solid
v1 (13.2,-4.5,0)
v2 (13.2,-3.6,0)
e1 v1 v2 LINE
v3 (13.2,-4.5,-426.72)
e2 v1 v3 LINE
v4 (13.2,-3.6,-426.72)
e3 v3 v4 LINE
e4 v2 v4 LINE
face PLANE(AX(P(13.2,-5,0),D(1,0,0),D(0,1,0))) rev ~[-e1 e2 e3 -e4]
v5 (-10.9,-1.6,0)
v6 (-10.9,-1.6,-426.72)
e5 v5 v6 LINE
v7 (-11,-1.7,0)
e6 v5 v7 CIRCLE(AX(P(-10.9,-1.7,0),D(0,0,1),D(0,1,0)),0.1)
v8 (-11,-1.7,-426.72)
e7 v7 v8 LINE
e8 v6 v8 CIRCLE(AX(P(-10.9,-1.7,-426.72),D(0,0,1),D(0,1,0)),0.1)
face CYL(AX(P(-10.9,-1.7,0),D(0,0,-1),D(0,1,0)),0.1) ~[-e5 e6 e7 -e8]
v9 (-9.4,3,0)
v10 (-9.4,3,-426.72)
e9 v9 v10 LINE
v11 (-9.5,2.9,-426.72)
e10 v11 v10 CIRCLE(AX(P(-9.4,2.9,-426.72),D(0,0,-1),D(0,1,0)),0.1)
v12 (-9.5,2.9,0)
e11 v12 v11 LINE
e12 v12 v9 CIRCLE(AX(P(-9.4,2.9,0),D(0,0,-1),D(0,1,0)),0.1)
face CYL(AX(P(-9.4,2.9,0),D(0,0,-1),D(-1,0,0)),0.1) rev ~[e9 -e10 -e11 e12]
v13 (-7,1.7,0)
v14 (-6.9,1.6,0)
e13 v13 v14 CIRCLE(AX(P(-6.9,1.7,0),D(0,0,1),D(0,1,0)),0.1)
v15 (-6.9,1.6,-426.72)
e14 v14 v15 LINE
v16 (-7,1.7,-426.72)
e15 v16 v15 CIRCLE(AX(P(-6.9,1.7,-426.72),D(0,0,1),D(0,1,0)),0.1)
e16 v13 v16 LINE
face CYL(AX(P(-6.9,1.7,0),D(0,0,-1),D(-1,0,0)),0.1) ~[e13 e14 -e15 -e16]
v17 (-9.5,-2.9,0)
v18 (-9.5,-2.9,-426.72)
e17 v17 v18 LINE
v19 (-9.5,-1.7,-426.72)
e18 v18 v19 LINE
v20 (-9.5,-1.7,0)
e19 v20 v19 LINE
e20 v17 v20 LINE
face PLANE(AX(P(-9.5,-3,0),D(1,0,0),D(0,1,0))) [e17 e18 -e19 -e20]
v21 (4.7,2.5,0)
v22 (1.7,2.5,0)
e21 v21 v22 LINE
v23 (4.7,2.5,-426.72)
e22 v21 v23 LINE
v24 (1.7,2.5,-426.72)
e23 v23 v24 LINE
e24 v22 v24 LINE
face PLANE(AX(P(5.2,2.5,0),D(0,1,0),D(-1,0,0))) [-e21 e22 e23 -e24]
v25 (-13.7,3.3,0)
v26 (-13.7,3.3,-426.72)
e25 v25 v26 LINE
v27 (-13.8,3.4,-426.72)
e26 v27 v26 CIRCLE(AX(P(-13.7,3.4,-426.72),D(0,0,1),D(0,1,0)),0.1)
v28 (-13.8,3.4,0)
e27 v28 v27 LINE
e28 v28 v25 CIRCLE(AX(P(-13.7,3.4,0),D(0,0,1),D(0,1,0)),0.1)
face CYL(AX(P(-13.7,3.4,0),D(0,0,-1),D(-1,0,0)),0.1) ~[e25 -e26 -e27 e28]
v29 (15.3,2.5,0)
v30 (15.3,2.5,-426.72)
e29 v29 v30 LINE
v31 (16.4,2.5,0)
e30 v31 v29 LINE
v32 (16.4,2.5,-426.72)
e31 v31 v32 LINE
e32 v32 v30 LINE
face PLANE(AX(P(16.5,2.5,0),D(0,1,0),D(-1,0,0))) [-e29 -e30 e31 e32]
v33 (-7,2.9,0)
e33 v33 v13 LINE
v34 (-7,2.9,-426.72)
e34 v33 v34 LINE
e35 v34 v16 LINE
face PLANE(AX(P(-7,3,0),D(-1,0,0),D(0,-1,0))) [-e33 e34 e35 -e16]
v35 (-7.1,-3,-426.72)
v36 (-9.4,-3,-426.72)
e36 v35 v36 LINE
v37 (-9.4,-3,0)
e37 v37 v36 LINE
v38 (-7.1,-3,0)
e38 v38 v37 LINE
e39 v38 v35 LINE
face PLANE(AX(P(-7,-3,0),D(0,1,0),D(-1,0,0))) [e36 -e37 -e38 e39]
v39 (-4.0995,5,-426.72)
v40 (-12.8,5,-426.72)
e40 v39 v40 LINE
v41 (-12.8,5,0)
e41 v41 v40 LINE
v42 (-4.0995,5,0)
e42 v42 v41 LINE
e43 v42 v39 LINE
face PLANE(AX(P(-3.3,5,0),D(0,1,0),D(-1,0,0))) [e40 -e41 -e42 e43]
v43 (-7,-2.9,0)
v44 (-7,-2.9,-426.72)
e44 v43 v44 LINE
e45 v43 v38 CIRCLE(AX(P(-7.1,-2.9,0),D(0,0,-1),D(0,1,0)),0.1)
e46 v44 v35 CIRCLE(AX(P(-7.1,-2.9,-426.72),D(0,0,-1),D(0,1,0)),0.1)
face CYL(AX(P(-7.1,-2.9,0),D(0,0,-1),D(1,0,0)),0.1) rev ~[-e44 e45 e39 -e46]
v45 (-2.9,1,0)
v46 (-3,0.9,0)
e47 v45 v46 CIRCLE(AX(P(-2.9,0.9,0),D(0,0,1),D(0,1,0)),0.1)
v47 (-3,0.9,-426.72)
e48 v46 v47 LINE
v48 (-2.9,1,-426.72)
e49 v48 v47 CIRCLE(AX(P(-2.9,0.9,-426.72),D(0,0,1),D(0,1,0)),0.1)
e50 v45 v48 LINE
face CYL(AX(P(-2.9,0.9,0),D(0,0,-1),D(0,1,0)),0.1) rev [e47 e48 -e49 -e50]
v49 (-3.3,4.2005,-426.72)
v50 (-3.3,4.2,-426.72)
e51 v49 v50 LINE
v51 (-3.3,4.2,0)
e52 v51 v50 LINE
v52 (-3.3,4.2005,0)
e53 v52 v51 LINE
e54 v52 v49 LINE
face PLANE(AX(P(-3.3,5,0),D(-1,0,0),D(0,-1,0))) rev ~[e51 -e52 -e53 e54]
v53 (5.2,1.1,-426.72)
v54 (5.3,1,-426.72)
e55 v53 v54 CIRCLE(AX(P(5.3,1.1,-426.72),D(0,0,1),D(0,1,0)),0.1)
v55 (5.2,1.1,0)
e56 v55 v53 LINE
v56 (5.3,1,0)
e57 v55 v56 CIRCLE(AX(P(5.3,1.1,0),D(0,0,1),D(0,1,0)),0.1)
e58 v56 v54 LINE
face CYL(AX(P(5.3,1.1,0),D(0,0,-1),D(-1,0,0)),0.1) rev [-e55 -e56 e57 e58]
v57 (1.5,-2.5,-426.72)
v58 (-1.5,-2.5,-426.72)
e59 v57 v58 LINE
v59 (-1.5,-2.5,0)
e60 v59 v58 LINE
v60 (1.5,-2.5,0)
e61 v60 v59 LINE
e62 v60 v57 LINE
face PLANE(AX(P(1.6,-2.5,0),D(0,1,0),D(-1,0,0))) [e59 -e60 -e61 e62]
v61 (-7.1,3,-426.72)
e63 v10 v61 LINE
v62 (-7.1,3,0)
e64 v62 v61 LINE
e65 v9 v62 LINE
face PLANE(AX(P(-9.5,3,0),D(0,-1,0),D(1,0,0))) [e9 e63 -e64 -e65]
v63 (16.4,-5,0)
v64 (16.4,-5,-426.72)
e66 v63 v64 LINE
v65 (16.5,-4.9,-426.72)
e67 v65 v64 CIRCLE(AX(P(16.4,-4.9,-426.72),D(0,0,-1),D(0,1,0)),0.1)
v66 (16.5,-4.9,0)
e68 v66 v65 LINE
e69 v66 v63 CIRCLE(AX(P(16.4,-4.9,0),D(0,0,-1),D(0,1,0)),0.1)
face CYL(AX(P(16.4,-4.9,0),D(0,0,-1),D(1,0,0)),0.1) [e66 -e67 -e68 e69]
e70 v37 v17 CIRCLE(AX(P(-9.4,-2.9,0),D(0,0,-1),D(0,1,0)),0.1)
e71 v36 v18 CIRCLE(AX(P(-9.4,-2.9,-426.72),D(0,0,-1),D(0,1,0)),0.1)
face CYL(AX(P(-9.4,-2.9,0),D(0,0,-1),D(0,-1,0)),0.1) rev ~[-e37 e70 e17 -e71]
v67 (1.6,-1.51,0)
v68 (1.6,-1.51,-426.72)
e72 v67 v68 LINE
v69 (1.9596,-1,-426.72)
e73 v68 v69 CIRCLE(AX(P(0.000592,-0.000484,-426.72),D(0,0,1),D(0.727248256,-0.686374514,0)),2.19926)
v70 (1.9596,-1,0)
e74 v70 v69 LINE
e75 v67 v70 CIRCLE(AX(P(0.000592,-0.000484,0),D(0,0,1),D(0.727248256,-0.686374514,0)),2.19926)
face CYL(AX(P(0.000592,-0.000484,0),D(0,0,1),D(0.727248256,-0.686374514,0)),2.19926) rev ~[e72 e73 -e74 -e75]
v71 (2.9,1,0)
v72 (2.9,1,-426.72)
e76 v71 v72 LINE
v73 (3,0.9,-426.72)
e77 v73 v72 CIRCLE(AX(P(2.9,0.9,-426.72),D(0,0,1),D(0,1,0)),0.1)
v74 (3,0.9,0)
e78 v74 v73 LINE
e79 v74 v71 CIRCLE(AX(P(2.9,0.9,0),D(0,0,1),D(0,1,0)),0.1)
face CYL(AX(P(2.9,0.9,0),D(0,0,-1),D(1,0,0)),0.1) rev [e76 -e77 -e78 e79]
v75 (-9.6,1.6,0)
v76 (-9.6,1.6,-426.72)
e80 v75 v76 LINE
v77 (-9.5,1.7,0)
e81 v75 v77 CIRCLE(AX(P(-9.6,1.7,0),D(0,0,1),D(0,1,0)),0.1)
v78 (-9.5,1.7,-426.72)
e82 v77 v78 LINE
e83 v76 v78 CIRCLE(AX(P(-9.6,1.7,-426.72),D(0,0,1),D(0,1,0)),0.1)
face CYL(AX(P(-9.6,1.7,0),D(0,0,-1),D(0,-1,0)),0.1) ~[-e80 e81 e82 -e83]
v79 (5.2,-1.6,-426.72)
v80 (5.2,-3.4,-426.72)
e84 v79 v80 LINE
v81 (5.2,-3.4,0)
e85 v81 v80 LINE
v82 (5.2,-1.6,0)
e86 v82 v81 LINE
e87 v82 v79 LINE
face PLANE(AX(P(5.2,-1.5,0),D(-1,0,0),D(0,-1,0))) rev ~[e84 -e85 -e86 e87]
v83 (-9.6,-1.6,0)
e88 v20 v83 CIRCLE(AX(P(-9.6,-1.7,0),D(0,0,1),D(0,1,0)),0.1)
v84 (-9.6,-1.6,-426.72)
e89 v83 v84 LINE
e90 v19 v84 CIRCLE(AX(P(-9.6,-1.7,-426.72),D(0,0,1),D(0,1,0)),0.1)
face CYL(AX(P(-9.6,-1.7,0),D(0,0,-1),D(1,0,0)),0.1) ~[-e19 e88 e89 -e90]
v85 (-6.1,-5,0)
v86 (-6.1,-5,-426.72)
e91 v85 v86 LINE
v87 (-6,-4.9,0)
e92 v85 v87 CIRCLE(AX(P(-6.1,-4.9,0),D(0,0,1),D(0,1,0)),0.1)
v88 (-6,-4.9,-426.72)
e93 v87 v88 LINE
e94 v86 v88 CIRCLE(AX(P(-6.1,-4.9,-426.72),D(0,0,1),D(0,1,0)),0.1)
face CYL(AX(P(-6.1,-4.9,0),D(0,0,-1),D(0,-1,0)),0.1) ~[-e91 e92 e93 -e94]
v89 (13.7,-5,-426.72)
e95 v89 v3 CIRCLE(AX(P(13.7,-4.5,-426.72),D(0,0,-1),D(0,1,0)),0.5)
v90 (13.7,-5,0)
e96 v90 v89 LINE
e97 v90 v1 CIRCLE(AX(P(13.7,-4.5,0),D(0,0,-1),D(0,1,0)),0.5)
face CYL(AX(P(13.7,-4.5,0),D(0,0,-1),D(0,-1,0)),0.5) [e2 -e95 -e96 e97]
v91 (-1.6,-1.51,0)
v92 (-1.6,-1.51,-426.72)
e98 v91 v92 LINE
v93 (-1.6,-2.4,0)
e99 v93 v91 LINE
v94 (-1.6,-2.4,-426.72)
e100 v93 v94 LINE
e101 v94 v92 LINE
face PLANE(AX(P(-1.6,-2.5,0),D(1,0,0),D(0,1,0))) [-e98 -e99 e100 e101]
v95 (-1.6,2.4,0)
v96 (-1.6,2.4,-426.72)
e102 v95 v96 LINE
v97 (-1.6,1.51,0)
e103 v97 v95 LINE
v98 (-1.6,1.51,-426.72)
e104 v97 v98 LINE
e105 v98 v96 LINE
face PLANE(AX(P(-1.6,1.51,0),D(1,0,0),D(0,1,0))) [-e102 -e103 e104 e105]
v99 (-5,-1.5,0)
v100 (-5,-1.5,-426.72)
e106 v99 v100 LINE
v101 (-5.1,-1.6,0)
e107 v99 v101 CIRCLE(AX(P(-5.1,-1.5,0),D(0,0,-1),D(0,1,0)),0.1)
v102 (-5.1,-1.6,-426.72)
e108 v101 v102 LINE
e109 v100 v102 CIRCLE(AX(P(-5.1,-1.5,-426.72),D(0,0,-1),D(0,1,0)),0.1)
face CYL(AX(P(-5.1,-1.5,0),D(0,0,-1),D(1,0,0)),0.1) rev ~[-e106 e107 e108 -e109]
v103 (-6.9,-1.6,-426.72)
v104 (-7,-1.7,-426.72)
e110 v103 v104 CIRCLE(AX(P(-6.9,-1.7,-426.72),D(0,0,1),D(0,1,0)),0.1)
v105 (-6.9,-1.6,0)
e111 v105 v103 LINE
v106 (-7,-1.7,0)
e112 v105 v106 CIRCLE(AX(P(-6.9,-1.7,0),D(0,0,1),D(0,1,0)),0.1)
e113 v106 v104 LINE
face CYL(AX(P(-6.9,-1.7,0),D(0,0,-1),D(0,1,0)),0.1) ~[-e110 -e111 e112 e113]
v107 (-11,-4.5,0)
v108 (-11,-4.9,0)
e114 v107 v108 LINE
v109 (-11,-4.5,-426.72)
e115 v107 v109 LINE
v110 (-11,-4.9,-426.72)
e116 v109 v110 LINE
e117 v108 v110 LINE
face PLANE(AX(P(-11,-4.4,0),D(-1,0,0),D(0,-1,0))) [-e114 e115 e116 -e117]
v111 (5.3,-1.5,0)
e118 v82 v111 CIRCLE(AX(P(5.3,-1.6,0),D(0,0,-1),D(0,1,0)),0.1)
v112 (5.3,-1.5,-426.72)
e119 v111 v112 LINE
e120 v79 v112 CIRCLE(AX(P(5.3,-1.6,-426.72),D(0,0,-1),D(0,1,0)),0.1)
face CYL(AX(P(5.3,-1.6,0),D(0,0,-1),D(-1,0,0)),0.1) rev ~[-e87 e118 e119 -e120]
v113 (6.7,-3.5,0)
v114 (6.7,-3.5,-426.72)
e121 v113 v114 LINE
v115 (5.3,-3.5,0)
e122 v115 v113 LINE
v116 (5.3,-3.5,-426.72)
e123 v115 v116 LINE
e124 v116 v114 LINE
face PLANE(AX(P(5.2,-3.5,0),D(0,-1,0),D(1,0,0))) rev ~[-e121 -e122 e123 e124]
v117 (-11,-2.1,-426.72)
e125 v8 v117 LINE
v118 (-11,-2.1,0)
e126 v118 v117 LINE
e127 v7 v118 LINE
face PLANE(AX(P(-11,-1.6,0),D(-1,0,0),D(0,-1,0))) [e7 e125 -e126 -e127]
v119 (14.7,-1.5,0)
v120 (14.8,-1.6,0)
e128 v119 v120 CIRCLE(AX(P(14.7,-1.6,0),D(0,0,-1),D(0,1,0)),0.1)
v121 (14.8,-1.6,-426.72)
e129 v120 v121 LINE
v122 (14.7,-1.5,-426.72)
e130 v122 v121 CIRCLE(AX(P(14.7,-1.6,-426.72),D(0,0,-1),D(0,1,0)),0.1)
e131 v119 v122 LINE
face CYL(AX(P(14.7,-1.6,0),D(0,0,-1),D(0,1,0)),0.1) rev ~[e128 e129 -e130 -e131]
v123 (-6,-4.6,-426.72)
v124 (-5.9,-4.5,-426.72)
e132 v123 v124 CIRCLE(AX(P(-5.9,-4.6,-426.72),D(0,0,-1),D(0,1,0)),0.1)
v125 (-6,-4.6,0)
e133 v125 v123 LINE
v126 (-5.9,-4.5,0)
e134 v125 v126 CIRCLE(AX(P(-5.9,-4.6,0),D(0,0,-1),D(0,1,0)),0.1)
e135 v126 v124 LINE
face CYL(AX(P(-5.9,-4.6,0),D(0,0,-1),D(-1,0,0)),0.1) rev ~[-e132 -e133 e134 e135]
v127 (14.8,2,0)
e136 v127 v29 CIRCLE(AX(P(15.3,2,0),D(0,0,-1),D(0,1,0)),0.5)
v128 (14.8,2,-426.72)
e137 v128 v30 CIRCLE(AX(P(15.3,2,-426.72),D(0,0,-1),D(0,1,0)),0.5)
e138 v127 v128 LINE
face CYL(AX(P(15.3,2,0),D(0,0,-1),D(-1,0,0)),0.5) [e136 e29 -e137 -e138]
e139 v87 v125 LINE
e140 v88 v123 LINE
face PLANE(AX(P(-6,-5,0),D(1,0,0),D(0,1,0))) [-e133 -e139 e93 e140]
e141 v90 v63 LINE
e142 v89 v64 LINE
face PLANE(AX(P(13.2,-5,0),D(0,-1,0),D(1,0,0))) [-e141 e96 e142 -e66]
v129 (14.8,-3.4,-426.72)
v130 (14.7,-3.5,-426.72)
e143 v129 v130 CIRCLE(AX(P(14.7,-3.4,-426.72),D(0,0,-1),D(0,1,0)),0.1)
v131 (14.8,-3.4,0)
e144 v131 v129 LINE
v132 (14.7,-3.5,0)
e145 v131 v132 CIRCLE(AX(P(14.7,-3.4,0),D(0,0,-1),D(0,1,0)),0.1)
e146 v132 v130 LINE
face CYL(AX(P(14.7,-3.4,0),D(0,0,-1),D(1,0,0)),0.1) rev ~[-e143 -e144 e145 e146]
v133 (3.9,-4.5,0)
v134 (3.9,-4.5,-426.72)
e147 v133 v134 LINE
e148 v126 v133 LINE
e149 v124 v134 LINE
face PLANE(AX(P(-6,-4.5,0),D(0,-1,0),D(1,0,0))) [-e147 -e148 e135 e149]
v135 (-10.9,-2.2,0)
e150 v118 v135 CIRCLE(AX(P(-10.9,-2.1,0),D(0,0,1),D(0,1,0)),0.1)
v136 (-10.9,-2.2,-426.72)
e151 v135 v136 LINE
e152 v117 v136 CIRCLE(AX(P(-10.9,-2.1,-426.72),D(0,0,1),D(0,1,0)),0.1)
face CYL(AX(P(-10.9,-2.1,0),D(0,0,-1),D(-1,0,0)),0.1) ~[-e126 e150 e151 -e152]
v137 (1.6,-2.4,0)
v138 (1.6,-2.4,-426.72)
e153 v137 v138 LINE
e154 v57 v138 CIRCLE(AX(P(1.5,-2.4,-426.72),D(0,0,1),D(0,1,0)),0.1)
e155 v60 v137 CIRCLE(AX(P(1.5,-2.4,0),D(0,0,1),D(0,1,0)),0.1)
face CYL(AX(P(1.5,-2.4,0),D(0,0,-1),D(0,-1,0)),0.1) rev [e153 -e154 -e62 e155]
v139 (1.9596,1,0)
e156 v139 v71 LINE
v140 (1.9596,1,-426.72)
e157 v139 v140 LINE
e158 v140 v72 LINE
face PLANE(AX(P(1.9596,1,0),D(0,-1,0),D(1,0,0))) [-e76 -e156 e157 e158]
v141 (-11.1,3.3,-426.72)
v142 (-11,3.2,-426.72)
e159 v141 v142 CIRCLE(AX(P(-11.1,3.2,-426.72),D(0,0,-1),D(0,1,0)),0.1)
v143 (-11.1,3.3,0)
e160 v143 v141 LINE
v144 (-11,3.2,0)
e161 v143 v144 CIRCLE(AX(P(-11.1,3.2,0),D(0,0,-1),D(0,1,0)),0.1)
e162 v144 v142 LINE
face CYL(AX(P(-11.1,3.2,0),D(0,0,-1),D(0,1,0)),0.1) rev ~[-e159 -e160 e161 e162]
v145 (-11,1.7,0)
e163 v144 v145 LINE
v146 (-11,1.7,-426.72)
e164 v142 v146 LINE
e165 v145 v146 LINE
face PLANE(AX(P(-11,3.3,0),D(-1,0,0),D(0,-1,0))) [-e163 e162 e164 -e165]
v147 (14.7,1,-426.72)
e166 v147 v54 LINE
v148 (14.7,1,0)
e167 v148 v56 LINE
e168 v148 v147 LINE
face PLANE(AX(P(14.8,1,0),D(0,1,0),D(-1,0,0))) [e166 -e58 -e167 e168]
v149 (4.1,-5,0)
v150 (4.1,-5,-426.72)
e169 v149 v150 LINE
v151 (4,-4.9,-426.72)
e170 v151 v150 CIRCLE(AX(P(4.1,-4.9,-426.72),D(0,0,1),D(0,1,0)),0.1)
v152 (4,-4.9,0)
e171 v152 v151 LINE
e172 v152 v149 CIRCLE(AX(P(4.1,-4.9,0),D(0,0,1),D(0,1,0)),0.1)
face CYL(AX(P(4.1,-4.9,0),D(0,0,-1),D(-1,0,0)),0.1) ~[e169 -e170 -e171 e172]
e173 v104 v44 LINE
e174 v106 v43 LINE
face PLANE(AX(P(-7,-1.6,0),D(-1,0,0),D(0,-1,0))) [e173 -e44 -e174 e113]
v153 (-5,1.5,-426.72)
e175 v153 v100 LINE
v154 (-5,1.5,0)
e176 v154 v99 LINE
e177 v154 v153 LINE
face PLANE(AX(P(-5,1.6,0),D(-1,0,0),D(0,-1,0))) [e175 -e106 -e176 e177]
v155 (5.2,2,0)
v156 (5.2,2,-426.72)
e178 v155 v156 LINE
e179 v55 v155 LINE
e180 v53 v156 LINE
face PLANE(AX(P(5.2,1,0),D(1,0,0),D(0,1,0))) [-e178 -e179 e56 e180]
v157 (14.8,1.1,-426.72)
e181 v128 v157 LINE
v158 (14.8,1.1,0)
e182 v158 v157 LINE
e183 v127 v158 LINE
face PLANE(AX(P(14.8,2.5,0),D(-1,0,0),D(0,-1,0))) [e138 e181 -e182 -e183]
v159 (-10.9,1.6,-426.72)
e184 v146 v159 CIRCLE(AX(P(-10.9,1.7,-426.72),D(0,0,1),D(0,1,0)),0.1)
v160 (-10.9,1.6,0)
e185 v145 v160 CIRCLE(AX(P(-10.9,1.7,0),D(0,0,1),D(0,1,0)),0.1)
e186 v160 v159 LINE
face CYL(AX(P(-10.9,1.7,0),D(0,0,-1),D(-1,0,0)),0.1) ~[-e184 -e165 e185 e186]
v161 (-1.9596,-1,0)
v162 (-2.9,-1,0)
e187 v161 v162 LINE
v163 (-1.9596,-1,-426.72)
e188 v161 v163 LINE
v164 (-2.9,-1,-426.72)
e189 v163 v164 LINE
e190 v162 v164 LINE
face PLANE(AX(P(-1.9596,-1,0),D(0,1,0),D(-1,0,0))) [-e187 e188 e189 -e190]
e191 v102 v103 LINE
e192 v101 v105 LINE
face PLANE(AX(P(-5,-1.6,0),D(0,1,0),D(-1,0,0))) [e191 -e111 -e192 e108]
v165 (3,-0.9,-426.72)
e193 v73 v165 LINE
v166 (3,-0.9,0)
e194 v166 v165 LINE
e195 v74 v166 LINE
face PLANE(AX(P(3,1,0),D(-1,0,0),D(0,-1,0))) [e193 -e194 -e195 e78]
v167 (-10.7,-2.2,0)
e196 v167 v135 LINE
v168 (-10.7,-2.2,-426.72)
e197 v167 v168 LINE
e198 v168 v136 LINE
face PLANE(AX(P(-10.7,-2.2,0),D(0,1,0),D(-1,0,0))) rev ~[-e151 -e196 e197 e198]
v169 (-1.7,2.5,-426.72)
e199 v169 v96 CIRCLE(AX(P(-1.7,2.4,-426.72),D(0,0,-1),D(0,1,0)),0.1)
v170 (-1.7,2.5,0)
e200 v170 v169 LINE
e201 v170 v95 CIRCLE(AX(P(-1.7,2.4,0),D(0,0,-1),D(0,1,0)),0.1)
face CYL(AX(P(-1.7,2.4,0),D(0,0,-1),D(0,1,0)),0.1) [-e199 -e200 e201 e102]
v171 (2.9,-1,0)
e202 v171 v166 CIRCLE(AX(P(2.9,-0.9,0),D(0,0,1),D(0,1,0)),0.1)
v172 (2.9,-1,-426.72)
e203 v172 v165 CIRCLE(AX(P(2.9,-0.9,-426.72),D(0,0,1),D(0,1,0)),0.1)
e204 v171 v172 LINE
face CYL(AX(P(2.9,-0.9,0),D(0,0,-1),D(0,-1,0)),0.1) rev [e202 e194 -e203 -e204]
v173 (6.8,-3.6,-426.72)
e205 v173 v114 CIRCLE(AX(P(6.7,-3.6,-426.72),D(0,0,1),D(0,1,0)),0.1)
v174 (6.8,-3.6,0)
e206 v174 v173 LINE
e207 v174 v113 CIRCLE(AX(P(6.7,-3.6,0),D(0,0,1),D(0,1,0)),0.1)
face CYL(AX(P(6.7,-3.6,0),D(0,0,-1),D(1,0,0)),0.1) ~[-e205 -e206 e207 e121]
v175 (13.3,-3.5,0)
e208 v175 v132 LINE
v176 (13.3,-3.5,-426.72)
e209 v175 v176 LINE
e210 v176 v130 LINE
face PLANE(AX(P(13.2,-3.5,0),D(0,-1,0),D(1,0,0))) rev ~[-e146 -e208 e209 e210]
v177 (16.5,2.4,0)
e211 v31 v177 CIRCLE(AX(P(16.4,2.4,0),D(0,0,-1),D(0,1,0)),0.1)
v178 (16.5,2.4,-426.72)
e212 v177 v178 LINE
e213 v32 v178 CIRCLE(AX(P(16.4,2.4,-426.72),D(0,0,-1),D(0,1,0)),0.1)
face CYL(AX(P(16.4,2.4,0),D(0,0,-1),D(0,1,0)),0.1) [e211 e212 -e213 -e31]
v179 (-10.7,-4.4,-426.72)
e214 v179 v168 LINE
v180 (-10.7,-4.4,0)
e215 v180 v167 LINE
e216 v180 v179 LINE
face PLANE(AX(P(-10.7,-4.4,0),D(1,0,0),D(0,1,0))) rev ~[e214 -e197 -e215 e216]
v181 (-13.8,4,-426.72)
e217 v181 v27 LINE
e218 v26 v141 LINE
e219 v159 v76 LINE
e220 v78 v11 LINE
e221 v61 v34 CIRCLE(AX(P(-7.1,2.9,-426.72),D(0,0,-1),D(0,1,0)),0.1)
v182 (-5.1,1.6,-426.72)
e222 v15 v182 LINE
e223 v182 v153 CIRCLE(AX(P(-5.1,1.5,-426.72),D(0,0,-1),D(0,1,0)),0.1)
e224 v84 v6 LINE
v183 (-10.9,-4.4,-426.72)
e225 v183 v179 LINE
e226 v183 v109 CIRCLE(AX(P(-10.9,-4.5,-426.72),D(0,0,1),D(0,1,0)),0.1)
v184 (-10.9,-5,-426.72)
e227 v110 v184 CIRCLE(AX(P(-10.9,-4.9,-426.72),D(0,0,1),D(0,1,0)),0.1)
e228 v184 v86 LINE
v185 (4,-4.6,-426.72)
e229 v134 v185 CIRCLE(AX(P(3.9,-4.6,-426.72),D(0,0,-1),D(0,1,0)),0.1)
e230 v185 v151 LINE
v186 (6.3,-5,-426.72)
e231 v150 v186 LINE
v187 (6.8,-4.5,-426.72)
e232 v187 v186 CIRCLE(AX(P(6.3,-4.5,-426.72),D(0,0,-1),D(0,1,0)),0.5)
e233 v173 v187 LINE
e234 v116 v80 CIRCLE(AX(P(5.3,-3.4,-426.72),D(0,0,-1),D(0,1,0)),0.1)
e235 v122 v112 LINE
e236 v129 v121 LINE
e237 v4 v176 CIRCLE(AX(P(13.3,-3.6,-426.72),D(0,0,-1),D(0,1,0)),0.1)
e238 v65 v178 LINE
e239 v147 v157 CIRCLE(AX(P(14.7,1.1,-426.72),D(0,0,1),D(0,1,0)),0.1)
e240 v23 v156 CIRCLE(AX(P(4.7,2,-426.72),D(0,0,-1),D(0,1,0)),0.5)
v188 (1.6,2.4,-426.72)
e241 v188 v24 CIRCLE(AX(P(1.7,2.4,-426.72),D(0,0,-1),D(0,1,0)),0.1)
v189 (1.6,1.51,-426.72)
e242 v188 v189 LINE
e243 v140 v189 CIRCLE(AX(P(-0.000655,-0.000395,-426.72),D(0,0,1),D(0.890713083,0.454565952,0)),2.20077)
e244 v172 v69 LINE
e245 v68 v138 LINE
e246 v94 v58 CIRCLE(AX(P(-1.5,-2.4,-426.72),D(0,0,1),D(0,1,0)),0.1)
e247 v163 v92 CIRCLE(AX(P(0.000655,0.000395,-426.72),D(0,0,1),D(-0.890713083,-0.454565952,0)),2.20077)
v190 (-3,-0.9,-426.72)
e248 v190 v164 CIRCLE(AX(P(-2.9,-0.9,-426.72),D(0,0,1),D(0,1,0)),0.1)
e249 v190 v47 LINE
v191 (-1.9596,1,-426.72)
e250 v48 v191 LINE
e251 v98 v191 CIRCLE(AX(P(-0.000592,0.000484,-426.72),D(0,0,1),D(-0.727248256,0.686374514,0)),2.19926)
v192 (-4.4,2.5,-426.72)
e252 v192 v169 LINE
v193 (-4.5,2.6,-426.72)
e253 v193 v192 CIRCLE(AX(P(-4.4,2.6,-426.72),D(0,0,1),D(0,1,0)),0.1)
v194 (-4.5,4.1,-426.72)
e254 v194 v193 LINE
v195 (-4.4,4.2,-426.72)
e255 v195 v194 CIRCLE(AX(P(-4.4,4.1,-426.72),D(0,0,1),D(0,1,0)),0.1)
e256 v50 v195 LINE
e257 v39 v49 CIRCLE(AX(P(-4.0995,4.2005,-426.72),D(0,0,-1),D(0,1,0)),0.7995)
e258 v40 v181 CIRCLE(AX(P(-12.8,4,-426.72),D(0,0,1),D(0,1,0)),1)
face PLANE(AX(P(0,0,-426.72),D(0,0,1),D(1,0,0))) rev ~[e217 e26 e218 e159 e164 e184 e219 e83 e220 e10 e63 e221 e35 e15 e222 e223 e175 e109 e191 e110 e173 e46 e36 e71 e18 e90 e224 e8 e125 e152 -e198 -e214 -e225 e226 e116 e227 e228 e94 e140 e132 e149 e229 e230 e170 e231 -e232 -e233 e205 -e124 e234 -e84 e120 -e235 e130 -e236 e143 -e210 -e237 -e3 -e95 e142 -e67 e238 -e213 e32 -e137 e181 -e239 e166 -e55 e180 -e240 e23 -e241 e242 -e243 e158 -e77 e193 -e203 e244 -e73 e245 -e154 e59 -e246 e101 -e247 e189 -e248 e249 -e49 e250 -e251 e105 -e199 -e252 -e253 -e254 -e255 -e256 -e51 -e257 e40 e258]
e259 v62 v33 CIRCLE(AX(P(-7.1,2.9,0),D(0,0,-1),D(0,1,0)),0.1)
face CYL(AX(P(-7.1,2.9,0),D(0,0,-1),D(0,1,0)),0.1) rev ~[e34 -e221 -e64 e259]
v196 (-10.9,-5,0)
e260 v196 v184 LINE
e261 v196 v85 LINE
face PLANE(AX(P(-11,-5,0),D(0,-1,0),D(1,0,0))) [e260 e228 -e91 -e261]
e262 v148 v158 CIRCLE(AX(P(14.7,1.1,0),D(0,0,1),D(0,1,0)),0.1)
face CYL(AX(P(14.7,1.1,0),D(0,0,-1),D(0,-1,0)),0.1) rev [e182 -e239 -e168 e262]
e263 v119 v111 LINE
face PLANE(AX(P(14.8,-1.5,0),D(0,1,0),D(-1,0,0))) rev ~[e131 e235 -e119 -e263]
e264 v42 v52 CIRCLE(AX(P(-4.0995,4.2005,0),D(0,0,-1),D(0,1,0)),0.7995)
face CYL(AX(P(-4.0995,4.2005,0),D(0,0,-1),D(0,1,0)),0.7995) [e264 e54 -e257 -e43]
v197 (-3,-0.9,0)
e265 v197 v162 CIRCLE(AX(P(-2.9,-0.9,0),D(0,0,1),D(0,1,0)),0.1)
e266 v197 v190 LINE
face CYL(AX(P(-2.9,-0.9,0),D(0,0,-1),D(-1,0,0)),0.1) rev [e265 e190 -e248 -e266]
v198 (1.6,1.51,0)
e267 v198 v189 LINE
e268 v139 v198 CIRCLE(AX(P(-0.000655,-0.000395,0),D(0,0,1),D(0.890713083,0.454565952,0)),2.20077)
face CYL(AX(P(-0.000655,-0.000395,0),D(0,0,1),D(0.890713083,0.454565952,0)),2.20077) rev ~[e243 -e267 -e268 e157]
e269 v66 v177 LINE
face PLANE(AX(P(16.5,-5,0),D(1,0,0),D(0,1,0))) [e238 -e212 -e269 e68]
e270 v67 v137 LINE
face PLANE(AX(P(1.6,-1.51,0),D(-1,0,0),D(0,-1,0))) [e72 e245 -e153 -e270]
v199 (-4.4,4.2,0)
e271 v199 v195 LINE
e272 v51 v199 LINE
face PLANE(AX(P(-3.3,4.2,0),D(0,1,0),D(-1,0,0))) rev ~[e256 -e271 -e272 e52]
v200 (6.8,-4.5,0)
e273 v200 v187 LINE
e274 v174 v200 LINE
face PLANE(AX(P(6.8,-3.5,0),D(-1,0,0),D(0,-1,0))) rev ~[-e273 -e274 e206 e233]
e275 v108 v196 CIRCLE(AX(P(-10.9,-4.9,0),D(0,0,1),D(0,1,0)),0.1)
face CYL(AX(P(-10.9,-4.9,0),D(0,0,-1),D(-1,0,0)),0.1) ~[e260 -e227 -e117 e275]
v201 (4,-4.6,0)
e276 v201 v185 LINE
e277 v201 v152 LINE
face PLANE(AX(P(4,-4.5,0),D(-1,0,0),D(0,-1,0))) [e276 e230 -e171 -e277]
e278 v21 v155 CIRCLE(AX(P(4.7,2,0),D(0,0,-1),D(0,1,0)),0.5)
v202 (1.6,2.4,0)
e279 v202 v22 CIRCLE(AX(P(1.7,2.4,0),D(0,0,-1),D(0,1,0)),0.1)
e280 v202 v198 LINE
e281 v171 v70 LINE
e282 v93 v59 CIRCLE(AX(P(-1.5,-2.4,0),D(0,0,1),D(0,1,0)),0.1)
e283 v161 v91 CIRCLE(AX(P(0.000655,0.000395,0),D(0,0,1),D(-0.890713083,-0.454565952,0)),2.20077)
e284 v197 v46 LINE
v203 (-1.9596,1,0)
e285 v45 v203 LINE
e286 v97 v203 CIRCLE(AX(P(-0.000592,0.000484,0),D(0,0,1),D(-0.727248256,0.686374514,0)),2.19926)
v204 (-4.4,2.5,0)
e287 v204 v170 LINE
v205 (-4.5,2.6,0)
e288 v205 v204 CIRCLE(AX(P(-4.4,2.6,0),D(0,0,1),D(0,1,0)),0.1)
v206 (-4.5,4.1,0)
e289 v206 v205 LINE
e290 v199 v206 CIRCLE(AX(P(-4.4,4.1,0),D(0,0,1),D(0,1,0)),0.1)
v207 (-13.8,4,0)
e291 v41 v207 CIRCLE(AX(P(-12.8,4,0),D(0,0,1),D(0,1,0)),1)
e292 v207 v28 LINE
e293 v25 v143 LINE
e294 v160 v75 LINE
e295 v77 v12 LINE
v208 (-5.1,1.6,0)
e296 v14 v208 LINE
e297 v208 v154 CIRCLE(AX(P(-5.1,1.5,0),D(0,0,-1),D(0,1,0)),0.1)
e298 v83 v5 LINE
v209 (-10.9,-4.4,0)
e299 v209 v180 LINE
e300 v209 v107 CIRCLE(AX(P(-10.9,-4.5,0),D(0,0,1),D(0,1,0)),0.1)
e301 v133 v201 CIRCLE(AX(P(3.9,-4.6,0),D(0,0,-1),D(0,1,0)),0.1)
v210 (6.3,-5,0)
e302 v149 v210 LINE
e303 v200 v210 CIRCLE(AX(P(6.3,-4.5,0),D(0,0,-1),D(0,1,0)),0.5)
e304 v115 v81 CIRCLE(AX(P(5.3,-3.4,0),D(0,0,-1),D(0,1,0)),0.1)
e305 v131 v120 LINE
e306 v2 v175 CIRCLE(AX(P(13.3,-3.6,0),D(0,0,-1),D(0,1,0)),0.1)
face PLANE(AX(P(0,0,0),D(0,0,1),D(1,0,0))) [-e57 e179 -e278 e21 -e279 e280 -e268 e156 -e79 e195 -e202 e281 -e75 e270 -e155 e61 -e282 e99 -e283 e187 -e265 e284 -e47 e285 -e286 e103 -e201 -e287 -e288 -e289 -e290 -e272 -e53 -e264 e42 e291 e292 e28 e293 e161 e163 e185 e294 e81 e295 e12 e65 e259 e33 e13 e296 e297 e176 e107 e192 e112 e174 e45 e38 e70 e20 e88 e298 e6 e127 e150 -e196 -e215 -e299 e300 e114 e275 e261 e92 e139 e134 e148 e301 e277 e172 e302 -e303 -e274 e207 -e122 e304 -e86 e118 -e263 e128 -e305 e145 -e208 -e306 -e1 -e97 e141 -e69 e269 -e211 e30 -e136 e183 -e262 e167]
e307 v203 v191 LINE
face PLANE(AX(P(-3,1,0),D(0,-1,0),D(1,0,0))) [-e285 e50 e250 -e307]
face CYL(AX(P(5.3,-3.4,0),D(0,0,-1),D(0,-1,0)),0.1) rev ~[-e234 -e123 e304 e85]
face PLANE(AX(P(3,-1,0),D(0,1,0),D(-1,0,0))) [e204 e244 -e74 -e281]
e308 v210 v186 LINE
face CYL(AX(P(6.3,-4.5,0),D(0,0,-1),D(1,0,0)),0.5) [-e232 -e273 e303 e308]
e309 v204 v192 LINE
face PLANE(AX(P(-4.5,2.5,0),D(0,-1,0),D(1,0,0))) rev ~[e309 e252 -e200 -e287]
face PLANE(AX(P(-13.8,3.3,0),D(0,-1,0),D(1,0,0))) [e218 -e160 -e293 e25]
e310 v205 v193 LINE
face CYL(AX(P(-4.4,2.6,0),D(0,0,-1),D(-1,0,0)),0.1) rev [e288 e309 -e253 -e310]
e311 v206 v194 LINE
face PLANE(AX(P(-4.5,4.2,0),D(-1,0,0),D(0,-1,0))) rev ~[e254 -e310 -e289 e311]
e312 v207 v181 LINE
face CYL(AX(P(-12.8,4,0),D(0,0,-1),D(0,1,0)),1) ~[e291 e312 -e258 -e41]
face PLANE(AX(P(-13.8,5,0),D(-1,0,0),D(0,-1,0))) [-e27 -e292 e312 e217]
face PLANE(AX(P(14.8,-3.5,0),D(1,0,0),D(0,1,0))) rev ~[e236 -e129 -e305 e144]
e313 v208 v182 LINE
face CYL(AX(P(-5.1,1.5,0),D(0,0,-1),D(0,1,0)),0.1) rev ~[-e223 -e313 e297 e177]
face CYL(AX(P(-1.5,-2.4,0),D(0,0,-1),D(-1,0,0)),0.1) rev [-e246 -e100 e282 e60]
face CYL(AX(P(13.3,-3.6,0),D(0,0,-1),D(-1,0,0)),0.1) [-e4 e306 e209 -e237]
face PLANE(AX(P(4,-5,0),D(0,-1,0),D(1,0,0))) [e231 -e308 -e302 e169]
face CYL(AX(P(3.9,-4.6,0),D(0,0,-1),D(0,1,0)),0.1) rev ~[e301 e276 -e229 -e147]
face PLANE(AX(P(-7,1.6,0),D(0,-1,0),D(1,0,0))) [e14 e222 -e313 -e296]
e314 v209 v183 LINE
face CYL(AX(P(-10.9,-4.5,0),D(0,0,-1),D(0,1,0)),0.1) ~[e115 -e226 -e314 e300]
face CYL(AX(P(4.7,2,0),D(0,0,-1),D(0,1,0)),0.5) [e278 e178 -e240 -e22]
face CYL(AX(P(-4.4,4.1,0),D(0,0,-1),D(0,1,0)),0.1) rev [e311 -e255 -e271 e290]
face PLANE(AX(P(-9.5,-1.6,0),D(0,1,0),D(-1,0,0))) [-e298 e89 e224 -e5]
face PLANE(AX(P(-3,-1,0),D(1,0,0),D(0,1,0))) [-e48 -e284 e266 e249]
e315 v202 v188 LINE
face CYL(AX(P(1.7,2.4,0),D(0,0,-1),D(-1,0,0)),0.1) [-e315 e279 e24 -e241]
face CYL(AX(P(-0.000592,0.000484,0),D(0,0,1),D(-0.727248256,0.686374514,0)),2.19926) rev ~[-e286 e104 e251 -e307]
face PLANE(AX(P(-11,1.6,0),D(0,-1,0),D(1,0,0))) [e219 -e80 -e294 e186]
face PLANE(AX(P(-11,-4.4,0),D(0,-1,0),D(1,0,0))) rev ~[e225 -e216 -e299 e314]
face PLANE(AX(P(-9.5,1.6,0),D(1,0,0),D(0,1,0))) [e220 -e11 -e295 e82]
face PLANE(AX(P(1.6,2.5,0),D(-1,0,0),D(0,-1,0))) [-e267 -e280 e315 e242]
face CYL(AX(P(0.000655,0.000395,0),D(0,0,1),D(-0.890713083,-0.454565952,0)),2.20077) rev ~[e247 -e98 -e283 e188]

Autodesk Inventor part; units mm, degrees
ref_plane "YZ Plane" through (0, 0, 0) normal (1, 0, 0) x (0, 1, 0)
ref_plane "XZ Plane" through (0, 0, 0) normal (0, 1, 0) x (-1, 0, 0)
ref_plane "XY Plane" through (0, 0, 0) normal (0, 0, 1) x (1, 0, 0)
sketch "Rail_Sketch" plane through (0, 0, 0) normal (0, 0, 1) x (1, 0, 0)
  arc A0 (-1.9596, 1) -> (-1.9596, -1) centre (0, 0) ccw construction
  line L0 (-13.8, -5) -> (-11, -5) construction
  line L1 (16.5, -5) -> (16.5, 2.5)
  line L2 (16.5, 5) -> (-3.3, 5) construction
  line L3 (-13.8, 5) -> (-13.8, 3.3)
  line L4 (-13.8, 3.3) -> (-11, 3.3)
  line L5 (-11, 3.3) -> (-11, 1.6)
  line L6 (-11, 1.6) -> (-9.5, 1.6)
  line L7 (-5, 1.6) -> (-5, -1.6)
  line L8 (-5, -1.6) -> (-7, -1.6)
  line L9 (-9.5, 3) -> (-7, 3)
  line L10 (-7, 3) -> (-7, 1.6)
  line L11 (-7, -3) -> (-9.5, -3)
  line L12 (-9.5, -3) -> (-9.5, -1.6)
  line L13 (-9.5, 1.6) -> (-7, 1.6) construction
  line L14 (-7, 1.6) -> (-5, 1.6)
  line L15 (-7, 1.6) -> (-7, -1.6) construction
  line L16 (-7, -1.6) -> (-7, -3)
  line L17 (-7, -1.6) -> (-9.5, -1.6) construction
  line L18 (-9.5, -1.6) -> (-11, -1.6)
  line L19 (-9.5, -1.6) -> (-9.5, 1.6) construction
  line L20 (-9.5, 1.6) -> (-9.5, 3)
  line L21 (-11, 1.6) -> (-11, -1.6) construction
  line L22 (-11, -1.6) -> (-11, -2.2)
  line L23 (-11, -5) -> (-6, -5)
  line L24 (-3.3, 5) -> (-3.3, 4.2)
  line L25 (-3.3, 4.2) -> (-4.5, 4.2)
  line L26 (-4.5, 4.2) -> (-4.5, 2.5)
  line L27 (-13.8, 3.3) -> (-13.8, -5) construction
  line L28 (-3.3, 5) -> (-13.8, 5)
  line L29 (16.5, 2.5) -> (16.5, 5) construction
  line L30 (-3, 1) -> (-1.9596, 1)
  line L31 (3, 1) -> (3, -1)
  line L32 (3, -1) -> (1.9596, -1)
  line L33 (-3, -1) -> (-3, 1)
  line L34 (-3, 1) -> (3, -1) construction
  line L35 (3, 1) -> (-3, -1) construction
  line L36 (1.6, -2.5) -> (-1.6, -2.5)
  line L37 (-1.6, -2.5) -> (-1.6, -1.51)
  line L38 (-1.6, 2.5) -> (1.6, 2.5) construction
  line L39 (1.6, 2.5) -> (1.6, 1.51)
  line L40 (1.6, -2.5) -> (-1.6, 2.5) construction
  line L41 (-1.6, -2.5) -> (1.6, 2.5) construction
  line L42 (-1.9596, 1) -> (1.9596, 1) construction
  line L43 (1.9596, 1) -> (3, 1)
  line L44 (1.9596, -1) -> (-1.9596, -1) construction
  line L45 (-1.9596, -1) -> (-3, -1)
  line L46 (-1.6, 1.51) -> (-1.6, 2.5)
  line L47 (1.6, 1.51) -> (1.6, -1.51) construction
  line L48 (1.6, -1.51) -> (1.6, -2.5)
  line L49 (-1.6, -1.51) -> (-1.6, 1.51) construction
  arc A1 (-1.6, 1.51) -> (-1.9596, 1) centre (0, 0) ccw
  arc A2 (1.6, 1.51) -> (-1.6, 1.51) centre (0, 0) ccw construction
  arc A3 (1.9596, 1) -> (1.6, 1.51) centre (0, 0) ccw
  arc A4 (-1.6, -1.51) -> (1.6, -1.51) centre (0, 0) ccw construction
  arc A5 (-1.9596, -1) -> (-1.6, -1.51) centre (0, 0) ccw
  arc A6 (1.6, -1.51) -> (1.9596, -1) centre (0, 0) ccw
  arc A7 (1.9596, -1) -> (1.9596, 1) centre (0, 0) ccw construction
  line L50 (-4.5, 2.5) -> (-1.6, 2.5)
  line L51 (16.5, 2.5) -> (14.8, 2.5)
  line L52 (-11, -4.4) -> (-10.7, -4.4)
  line L53 (-10.7, -4.4) -> (-10.7, -2.2)
  line L54 (-10.7, -2.2) -> (-11, -2.2)
  line L55 (-11, -2.2) -> (-11, -4.4) construction
  line L56 (-11, -4.4) -> (-11, -5)
  line L57 (-6, -5) -> (-6, -4.5)
  line L58 (-6, -4.5) -> (4, -4.5)
  line L59 (4, -4.5) -> (4, -5)
  line L60 (4, -5) -> (6.8, -5)
  line L61 (-6, -5) -> (4, -5) construction
  line L62 (10, 2.5) -> (10, -5) construction
  line L63 (14.8, 2.5) -> (14.8, 1)
  line L64 (14.8, 1) -> (5.2, 1)
  line L65 (5.2, 1) -> (5.2, 2.5)
  line L66 (5.2, 2.5) -> (1.6, 2.5)
  line L67 (14.8, 2.5) -> (5.2, 2.5) construction
  line L68 (13.2, -5) -> (13.2, -3.5)
  line L69 (13.2, -3.5) -> (14.8, -3.5)
  line L70 (14.8, -3.5) -> (14.8, -1.5)
  line L71 (14.8, -1.5) -> (5.2, -1.5)
  line L72 (5.2, -1.5) -> (5.2, -3.5)
  line L73 (5.2, -3.5) -> (6.8, -3.5)
  line L74 (6.8, -3.5) -> (6.8, -5)
  line L75 (6.8, -5) -> (13.2, -5) construction
  line L76 (13.2, -5) -> (16.5, -5)
  dimension "d55" = 4.4
  dimension "d56" = 10
  dimension "d57" = 5
  dimension "d58" = 13.8
  dimension "d59" = 30.3
  dimension "d60" = 1.7
  dimension "d61" = 2.8
  dimension "d62" = 6
  dimension "d63" = 3.2
  dimension "d64" = 1.6
  dimension "d65" = 2.5
  dimension "d66" = 6
  dimension "d67" = 1.5
  dimension "d68" = 3
  dimension "d69" = 0.8
  dimension "d70" = 1.2
  dimension "d71" = 1.7
  dimension "d72" = 10.5
  dimension "d74" = 6
  dimension "d75" = 2
  dimension "d76" = 3.2
  dimension "d77" = 5
  dimension "d78" = 0.3
  dimension "d79" = 2.2
  dimension "d80" = 0.6
  dimension "d81" = 0.5
  dimension "d82" = 10
  dimension "d83" = 5
  dimension "d84" = 6.5
  dimension "d85" = 1.5
  dimension "d86" = 9.6
  dimension "d87" = 1.7
  dimension "d88" = 1.5
  dimension "d89" = 2
  dimension "d90" = 6.4
  dimension "d91" = 3.2
  dimension "d92" = 4.8
  dimension "d93" = 9.6
extrude "Extrusion1" add sketch "Rail_Sketch" against normal blind 426.72
fillet "Rad_0.5 mm Fillet" radius 0.5 4 edges at (6.8, -5, -213.36) (13.2, -5, -213.36) (14.8, 2.5, -213.36) (5.2, 2.5, -213.36)
fillet "Rad_1 mm Fillet" radius 1 1 edges at (-13.8, 5, -213.36)
fillet "Rad_0.8 mm Fillet" radius 0.8 1 edges at (-3.3, 5, -213.36)
fillet "Rad_0.1 mm Fillet" radius 0.1 41 edges at (16.5, -5, -213.36) (16.5, 2.5, -213.36) (6.8, -3.5, -213.36) (13.2, -3.5, -213.36) (14.8, -3.5, -213.36) (14.8, -1.5, -213.36) (5.2, -1.5, -213.36) (5.2, -3.5, -213.36) (14.8, 1, -213.36) (5.2, 1, -213.36) (1.6, 2.5, -213.36) (-1.6, 2.5, -213.36) (3, 1, -213.36) (3, -1, -213.36) (1.6, -2.5, -213.36) (-1.6, -2.5, -213.36) (-3, -1, -213.36) (-3, 1, -213.36) (-4.5, 2.5, -213.36) (-4.5, 4.2, -213.36) (-13.8, 3.3, -213.36) (-11, 3.3, -213.36) (-11, 1.6, -213.36) (-9.5, 1.6, -213.36) (-9.5, 3, -213.36) (-7, 3, -213.36) (-7, 1.6, -213.36) (-5, 1.6, -213.36) (-5, -1.6, -213.36) (-7, -1.6, -213.36) (-7, -3, -213.36) (-9.5, -3, -213.36) (-9.5, -1.6, -213.36) (-11, -1.6, -213.36) (-11, -2.2, -213.36) (-11, -4.4, -213.36) (-11, -5, -213.36) (-6, -5, -213.36) (-6, -4.5, -213.36) (4, -4.5, -213.36) (4, -5, -213.36)
equation "\"d64\" = 0.5 * d63"
equation "\"d68\" = 0.5 * d66"
equation "\"d91\" = 0.5 * d90"
equation "\"d92\" = 0.5 * d86"
equation "\"d93\" = d86"
properties part number "Rail_TypeA" material "Aluminum"
